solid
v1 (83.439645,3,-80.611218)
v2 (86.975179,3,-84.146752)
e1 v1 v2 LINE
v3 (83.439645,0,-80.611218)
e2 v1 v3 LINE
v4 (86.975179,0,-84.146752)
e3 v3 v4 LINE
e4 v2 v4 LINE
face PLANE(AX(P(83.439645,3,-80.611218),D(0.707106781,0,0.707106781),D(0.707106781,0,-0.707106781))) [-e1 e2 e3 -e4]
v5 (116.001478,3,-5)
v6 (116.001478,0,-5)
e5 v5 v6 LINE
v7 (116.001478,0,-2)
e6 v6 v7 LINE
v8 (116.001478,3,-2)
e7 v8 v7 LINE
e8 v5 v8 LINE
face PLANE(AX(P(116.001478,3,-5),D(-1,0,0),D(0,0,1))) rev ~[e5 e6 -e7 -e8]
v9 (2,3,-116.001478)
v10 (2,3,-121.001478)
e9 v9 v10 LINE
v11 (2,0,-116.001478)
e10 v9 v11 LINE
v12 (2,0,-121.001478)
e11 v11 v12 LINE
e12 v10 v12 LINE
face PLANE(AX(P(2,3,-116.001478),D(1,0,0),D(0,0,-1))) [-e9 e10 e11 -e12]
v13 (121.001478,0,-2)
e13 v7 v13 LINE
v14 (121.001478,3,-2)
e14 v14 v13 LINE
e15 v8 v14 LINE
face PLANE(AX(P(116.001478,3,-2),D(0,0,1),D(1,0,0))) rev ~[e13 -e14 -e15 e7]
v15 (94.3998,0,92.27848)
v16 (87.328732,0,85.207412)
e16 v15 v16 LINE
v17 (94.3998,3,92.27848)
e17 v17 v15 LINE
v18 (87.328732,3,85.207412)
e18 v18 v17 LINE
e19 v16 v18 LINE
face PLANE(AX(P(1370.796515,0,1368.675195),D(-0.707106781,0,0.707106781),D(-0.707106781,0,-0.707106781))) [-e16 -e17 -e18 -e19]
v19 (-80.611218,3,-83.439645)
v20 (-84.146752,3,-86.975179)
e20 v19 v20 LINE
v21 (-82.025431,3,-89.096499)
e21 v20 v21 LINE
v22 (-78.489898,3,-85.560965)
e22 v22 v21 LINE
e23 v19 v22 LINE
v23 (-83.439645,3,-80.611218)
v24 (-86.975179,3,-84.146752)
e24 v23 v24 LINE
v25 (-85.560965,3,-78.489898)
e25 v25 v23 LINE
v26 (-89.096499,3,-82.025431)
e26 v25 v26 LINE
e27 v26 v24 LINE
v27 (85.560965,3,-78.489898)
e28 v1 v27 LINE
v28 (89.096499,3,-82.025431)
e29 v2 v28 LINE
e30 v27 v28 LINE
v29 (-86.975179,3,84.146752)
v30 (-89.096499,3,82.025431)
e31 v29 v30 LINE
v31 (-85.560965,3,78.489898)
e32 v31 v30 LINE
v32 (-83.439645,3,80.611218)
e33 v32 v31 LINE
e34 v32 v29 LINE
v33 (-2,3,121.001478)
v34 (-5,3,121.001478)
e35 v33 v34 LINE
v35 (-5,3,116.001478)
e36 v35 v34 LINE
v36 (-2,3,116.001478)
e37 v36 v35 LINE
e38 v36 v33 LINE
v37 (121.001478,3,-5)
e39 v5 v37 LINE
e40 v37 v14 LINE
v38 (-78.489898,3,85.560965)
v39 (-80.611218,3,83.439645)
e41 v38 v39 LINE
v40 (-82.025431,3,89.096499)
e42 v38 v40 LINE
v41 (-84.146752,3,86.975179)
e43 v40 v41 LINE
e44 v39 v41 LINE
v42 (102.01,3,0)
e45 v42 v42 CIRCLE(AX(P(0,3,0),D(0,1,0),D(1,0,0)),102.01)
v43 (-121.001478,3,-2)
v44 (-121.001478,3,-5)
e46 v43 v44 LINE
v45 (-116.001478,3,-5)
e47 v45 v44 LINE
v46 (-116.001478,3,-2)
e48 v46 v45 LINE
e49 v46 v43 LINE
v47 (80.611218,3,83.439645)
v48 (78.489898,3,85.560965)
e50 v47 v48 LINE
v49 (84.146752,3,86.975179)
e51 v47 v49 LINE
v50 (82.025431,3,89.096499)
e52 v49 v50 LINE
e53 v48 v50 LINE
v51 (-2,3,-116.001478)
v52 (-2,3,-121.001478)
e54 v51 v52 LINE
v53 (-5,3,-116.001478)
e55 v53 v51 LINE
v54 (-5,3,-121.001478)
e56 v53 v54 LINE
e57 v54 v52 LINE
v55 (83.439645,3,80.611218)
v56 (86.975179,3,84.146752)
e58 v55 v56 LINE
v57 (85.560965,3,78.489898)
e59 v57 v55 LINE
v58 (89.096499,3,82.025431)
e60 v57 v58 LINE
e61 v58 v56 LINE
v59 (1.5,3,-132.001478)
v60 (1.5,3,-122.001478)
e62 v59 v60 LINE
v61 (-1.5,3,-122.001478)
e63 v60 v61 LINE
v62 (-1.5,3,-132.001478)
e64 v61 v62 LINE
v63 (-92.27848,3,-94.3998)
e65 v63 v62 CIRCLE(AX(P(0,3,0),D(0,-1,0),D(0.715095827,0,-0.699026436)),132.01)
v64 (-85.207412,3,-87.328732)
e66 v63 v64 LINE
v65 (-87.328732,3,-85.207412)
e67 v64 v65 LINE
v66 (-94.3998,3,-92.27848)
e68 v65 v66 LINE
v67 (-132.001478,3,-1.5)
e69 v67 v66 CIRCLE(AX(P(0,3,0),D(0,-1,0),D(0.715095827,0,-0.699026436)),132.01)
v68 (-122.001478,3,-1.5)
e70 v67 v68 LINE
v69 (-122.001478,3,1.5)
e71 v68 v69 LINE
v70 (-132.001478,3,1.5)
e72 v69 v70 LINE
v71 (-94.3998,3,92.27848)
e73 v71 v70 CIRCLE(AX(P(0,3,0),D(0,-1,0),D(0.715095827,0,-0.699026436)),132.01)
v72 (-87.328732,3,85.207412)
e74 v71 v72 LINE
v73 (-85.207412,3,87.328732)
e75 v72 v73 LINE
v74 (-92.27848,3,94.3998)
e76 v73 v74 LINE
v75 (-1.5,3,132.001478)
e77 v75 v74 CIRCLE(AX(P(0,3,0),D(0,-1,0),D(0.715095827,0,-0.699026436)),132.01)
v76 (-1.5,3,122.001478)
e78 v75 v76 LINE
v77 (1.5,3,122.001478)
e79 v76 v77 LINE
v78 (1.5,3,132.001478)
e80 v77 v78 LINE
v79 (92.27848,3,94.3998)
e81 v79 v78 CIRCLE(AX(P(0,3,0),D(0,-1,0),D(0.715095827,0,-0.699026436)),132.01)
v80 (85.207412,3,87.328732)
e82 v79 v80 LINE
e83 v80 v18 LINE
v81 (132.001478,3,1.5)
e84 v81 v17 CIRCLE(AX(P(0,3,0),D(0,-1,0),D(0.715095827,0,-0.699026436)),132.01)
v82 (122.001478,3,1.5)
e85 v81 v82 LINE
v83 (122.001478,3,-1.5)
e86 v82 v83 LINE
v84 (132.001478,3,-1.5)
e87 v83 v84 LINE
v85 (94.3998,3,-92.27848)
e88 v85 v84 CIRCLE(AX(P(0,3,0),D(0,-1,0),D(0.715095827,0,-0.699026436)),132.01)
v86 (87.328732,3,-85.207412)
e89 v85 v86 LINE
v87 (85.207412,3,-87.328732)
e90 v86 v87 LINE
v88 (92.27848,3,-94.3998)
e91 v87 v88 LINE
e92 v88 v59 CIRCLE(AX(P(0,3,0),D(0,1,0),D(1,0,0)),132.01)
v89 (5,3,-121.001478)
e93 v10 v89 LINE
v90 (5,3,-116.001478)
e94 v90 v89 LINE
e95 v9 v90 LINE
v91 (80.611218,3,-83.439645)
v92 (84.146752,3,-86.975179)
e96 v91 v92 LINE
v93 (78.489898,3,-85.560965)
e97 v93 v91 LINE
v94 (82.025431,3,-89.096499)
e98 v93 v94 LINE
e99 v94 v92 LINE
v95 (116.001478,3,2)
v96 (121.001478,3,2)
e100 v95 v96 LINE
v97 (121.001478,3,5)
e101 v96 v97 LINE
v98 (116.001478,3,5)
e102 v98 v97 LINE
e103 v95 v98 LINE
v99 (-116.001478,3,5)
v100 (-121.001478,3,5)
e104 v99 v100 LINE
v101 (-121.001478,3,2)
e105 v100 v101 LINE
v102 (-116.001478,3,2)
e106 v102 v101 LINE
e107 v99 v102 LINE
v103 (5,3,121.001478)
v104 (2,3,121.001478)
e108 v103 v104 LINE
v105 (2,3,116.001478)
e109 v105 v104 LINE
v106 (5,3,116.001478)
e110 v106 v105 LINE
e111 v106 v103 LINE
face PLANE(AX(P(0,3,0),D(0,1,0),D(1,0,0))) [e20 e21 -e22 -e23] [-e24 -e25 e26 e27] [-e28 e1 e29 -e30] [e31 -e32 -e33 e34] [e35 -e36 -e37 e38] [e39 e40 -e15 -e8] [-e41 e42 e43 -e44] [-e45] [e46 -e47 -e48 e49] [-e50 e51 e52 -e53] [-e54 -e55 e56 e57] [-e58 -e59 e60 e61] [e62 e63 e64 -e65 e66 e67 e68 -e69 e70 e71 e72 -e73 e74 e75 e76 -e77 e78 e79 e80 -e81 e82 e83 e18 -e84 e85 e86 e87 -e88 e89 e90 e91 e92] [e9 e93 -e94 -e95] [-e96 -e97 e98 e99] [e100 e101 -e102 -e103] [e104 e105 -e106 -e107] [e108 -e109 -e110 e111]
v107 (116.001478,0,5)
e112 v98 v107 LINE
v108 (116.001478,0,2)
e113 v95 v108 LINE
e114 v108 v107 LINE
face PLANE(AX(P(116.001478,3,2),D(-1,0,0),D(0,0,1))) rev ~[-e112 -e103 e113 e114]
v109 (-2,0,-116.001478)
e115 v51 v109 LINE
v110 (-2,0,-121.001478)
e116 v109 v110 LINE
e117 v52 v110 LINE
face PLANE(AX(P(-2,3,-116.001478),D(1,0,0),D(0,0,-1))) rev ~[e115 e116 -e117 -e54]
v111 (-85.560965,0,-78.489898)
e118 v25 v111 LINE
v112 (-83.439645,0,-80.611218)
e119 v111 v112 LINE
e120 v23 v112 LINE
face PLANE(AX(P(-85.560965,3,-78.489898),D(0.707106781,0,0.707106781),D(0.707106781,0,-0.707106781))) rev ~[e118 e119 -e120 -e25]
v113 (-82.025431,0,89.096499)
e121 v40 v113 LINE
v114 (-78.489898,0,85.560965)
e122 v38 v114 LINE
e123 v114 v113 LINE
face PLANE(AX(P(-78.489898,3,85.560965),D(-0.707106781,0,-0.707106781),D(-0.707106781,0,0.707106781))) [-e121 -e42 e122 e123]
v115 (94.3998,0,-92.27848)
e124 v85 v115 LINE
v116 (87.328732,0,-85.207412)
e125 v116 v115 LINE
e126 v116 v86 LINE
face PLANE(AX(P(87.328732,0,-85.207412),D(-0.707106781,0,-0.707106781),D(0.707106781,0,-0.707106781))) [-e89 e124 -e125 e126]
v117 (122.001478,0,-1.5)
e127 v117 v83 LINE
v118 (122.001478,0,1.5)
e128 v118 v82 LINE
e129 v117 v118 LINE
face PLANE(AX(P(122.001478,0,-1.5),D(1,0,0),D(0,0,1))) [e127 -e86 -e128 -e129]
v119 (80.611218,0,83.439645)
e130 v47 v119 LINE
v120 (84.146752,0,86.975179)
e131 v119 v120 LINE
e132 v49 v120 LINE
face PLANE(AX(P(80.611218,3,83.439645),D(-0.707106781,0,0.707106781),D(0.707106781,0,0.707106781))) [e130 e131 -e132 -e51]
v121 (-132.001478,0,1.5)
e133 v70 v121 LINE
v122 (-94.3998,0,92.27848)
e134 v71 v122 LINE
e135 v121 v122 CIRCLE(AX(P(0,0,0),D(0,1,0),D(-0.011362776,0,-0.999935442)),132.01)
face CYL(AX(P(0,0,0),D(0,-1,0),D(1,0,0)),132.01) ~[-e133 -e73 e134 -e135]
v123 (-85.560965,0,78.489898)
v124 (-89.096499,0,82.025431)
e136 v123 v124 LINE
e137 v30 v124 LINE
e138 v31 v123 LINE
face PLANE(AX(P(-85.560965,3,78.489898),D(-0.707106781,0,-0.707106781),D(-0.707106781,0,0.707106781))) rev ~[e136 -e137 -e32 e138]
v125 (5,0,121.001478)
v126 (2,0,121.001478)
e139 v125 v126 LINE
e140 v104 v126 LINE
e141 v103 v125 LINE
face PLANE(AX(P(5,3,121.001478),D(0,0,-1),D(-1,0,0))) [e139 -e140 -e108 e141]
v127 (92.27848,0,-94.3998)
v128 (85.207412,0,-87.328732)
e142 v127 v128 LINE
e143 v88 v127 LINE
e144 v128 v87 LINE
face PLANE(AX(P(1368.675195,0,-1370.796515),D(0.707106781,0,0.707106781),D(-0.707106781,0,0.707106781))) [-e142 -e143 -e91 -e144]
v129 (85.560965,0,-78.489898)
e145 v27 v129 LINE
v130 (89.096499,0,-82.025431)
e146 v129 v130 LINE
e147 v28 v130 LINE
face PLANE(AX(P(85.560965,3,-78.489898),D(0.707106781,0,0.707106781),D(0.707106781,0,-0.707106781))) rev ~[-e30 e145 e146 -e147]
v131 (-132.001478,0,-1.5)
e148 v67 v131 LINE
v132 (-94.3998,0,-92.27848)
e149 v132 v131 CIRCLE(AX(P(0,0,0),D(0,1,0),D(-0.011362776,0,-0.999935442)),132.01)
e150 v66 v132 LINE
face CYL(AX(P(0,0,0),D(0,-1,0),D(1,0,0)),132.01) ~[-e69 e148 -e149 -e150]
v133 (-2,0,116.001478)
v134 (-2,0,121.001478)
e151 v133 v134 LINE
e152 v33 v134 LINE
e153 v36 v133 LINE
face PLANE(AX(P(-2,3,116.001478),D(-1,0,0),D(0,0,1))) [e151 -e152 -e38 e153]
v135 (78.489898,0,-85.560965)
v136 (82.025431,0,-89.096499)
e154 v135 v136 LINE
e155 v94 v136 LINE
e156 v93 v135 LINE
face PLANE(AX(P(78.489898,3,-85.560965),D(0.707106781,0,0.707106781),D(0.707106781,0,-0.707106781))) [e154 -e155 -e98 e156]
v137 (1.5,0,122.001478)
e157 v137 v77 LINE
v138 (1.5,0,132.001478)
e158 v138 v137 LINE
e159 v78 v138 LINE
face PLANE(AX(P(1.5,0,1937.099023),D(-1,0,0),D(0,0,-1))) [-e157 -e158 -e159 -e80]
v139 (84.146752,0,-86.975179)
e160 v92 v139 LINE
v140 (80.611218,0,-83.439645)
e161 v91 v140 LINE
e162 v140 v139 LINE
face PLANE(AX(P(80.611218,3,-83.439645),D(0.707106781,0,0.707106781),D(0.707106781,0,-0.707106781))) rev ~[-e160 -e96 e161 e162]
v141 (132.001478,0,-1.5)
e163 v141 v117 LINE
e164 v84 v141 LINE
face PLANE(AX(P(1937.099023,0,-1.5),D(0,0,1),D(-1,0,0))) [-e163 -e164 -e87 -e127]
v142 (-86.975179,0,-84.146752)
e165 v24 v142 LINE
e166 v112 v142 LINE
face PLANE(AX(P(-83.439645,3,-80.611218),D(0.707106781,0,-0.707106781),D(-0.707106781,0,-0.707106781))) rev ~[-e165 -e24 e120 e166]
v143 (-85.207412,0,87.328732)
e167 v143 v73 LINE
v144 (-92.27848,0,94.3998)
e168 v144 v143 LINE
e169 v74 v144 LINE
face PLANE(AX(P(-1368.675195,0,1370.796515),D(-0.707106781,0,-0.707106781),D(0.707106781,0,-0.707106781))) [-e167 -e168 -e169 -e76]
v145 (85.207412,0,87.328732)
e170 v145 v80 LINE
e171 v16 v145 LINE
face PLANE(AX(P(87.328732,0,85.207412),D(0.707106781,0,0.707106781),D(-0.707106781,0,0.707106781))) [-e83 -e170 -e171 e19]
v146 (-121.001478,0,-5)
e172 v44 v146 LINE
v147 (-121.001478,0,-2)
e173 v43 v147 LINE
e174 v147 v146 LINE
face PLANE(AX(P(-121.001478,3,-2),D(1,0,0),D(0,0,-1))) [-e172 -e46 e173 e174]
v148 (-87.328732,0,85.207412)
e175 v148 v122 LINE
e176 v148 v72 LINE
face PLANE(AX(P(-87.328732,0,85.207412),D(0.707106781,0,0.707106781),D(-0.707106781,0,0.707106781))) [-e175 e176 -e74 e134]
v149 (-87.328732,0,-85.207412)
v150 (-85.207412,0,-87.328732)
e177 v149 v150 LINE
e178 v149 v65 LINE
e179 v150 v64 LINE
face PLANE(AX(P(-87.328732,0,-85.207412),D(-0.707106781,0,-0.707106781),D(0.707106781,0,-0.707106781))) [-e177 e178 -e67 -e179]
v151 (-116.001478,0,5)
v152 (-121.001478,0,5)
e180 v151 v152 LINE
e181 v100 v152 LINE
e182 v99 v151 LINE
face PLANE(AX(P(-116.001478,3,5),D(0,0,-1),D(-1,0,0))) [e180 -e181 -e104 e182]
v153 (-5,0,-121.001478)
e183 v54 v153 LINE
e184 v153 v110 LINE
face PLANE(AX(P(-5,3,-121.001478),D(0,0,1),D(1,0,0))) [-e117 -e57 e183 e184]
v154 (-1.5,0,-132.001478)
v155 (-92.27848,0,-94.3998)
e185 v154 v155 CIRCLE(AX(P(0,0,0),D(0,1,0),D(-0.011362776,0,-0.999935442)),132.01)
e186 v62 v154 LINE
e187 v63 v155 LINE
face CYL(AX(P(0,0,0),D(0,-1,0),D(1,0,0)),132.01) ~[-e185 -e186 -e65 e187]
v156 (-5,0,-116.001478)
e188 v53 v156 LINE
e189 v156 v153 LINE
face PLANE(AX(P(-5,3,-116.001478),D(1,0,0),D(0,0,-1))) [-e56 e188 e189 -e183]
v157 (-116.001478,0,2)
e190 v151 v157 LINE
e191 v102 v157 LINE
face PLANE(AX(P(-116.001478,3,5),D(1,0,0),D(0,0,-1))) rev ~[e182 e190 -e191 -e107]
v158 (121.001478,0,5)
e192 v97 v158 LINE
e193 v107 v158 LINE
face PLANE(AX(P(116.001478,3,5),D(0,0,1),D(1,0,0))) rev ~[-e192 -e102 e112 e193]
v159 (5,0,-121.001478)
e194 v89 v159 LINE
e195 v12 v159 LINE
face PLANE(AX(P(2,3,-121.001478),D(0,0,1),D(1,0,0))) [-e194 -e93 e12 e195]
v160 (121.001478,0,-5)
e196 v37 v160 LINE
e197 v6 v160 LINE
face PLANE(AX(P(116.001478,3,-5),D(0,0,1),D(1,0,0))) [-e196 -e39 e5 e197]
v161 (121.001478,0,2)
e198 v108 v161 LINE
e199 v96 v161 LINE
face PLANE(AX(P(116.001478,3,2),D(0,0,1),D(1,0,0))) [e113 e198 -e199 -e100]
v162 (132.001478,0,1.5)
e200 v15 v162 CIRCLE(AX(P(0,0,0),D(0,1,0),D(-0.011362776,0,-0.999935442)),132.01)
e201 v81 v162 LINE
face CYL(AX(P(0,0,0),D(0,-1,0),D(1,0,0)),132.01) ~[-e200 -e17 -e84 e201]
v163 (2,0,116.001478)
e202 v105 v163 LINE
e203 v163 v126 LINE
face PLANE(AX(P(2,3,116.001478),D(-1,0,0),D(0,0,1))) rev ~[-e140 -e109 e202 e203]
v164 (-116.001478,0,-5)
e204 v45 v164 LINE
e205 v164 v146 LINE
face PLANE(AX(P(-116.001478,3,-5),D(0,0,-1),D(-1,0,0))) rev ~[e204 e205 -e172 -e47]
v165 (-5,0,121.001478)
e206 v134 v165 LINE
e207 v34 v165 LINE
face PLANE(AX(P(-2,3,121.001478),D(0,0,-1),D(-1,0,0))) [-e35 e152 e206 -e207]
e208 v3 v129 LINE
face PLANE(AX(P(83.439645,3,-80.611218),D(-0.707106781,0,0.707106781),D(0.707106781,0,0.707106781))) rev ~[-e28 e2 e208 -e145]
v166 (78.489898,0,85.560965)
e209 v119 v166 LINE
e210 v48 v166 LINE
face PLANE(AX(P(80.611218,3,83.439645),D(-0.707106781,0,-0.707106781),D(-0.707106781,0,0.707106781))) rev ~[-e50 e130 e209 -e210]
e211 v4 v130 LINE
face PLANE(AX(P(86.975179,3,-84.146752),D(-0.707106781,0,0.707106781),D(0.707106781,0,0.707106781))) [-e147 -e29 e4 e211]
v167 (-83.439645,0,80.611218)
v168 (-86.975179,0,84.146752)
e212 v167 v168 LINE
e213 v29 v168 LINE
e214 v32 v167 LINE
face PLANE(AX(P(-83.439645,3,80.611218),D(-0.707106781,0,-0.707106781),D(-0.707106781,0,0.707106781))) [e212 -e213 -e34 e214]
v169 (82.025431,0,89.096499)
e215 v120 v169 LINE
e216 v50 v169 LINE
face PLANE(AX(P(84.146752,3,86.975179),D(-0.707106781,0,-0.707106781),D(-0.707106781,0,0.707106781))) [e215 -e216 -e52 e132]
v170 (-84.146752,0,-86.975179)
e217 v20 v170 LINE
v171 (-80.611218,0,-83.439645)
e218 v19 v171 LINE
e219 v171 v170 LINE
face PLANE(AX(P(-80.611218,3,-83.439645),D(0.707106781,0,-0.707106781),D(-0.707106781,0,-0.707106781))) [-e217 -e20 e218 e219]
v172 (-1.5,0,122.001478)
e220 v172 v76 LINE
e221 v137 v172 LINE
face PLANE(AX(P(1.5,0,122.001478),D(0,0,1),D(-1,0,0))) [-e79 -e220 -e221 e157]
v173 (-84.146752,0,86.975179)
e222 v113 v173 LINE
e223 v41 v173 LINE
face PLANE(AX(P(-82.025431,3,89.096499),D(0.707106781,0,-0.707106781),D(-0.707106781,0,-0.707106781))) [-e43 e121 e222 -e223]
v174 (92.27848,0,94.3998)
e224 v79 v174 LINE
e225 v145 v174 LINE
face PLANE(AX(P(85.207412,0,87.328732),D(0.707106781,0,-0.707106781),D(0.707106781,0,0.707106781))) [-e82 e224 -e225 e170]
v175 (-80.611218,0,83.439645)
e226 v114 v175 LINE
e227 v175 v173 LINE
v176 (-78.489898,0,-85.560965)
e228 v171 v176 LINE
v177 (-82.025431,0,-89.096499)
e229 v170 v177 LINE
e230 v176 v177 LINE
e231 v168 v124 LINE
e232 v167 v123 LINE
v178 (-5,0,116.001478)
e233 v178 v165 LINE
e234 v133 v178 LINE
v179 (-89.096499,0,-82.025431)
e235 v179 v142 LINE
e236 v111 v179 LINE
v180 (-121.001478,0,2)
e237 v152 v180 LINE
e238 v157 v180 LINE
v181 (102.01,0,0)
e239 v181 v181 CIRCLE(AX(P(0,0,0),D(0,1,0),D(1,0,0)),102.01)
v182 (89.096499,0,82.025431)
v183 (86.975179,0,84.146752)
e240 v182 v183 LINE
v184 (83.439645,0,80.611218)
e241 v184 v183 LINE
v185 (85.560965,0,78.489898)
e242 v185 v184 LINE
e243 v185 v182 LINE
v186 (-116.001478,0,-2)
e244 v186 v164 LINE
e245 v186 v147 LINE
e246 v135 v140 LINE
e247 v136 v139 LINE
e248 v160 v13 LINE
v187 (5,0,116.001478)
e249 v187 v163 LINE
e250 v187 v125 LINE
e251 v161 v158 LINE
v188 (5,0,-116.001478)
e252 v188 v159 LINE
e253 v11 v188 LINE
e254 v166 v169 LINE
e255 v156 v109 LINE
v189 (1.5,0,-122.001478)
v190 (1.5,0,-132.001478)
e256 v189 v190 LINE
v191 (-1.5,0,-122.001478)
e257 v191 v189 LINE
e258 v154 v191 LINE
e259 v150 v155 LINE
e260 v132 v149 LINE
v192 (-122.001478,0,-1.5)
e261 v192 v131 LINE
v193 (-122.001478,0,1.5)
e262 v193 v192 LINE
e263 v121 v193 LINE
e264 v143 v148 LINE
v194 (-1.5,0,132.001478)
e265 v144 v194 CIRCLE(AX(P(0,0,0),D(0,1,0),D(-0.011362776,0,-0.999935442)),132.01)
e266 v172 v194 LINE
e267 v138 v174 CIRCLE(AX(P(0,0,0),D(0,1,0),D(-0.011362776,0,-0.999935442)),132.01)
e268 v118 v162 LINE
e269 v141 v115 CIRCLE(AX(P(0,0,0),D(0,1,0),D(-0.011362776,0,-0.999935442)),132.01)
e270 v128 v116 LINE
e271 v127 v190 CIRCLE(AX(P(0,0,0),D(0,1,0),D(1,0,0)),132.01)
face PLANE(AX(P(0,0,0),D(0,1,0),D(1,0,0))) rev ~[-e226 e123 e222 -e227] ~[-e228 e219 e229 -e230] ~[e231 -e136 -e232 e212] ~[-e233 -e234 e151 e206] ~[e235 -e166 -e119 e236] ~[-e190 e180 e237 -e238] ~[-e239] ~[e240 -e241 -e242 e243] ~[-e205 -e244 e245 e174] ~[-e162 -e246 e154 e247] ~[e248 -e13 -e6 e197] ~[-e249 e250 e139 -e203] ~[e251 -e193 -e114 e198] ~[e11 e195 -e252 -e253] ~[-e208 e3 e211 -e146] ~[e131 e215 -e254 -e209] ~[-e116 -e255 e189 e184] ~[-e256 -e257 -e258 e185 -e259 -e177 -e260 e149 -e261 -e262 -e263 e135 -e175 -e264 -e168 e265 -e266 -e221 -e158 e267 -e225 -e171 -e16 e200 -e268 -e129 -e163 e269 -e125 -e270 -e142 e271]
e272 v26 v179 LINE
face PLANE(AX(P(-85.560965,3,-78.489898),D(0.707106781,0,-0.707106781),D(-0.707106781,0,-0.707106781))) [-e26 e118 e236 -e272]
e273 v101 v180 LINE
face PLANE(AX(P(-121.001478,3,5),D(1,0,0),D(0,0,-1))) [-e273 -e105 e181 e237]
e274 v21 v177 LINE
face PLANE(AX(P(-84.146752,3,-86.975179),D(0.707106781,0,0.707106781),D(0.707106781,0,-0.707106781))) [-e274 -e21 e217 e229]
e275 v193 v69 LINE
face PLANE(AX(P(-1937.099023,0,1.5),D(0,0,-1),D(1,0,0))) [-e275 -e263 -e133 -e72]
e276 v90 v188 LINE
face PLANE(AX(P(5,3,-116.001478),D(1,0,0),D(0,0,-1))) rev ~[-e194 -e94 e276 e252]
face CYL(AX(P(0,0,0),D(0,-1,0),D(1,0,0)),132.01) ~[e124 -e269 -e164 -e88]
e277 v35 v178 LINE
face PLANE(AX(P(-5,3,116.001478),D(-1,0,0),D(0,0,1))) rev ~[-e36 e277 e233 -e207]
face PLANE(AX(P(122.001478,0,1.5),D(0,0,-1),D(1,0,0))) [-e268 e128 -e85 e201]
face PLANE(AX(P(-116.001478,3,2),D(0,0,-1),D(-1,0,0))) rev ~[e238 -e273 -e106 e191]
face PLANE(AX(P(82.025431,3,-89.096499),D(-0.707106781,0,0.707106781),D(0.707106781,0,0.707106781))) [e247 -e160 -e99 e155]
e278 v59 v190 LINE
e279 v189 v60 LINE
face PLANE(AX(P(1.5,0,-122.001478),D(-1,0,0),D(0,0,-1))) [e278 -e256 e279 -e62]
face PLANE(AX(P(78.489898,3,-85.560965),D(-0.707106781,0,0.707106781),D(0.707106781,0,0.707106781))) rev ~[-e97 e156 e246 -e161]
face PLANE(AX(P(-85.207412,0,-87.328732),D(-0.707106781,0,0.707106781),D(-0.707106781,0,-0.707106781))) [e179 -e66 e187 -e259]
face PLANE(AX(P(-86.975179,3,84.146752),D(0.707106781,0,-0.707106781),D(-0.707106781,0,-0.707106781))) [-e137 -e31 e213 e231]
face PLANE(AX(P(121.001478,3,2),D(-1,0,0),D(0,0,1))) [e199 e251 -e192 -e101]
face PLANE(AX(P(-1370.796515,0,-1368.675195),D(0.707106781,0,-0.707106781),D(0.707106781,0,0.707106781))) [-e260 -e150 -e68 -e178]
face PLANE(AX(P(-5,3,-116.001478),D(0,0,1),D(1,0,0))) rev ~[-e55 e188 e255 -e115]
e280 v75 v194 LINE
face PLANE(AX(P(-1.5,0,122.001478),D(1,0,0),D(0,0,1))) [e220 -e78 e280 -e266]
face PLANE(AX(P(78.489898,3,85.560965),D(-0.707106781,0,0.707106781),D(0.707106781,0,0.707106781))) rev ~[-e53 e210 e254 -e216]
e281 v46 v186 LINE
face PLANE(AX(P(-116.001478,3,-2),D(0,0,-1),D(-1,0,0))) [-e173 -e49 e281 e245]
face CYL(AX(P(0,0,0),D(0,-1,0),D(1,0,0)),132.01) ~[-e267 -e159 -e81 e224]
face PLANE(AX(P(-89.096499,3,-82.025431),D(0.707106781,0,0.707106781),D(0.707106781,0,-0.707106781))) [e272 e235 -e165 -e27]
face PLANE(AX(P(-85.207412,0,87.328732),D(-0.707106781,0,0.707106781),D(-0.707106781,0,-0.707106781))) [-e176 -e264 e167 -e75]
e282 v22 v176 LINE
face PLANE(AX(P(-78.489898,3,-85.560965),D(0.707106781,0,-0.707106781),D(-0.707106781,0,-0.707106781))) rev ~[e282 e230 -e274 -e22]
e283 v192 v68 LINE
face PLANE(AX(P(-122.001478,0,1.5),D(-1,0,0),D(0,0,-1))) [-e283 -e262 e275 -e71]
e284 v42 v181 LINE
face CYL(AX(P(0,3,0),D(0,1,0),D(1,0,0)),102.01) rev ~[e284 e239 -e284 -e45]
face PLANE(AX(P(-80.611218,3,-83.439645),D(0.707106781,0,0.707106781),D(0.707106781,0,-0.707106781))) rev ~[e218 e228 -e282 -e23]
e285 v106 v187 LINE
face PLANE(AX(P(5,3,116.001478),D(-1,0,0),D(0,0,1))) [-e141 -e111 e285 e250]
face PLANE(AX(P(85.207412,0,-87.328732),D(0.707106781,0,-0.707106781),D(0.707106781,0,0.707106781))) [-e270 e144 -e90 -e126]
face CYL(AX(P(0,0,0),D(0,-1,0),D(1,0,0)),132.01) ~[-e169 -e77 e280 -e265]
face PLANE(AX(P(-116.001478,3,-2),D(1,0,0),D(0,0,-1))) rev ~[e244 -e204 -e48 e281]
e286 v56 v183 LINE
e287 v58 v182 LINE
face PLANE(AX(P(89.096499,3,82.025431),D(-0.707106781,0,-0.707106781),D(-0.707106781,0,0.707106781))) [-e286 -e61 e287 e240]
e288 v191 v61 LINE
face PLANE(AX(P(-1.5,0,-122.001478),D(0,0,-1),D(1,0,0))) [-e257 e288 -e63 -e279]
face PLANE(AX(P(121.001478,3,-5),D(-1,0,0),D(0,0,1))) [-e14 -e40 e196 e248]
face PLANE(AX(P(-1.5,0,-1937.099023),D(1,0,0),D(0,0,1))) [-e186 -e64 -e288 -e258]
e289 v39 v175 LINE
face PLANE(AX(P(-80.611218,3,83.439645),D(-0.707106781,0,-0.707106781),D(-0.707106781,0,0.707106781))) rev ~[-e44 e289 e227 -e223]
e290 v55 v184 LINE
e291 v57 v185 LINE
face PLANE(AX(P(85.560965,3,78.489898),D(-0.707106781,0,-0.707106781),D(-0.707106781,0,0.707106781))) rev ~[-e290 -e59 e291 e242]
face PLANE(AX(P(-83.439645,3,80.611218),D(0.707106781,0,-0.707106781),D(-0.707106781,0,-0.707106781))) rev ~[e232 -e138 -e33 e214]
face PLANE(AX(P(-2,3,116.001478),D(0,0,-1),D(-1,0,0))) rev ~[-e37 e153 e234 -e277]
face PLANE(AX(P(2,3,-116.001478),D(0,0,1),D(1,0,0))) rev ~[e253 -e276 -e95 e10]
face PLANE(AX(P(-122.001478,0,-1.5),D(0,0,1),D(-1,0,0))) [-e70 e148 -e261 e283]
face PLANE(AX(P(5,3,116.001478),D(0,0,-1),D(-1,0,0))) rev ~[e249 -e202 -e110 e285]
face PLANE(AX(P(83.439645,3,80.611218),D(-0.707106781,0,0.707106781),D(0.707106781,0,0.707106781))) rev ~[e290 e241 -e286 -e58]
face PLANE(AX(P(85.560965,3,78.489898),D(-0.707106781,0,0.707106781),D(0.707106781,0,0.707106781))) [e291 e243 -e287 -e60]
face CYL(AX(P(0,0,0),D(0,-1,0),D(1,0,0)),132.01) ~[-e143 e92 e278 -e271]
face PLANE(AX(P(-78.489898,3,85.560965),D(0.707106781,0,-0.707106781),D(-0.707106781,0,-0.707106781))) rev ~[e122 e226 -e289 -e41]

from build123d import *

# Parameters (mm, degrees)
SKETCH1_R           = 132.01
BOSS_EXTRUDE1_DEPTH = 3
CUT_EXTRUDE1_START  = -3
CUT_EXTRUDE1_DEPTH  = 4
CIRPATTERN1_COUNT   = 8
SKETCH7_W           = 3
SKETCH7_H           = 5
CUT_EXTRUDE4_DEPTH  = 3
CIRPATTERN2_COUNT   = 8
SKETCH8_R           = 102.01
CUT_EXTRUDE6_DEPTH  = 10


with BuildPart() as part:
    # Sketch1 → Boss-Extrude1 (new body)
    with BuildSketch(Plane(origin=(0, 0, 0), x_dir=(1, 0, 0), z_dir=(0, 1, 0))):
        Circle(SKETCH1_R)
    extrude(amount=BOSS_EXTRUDE1_DEPTH)

    # Sketch2 → Cut-Extrude1 (cut)
    with BuildSketch(Plane(origin=(0, 3, 0), x_dir=(1, 0, 0), z_dir=(0, 1, 0)).offset(CUT_EXTRUDE1_START)):
        Polygon((-1.5, 733.700659415), (-1.5, 132.001477643), (-1.5, 122.001477643), (1.5, 122.001477643), (1.5, 132.001477643), (1.5, 733.700659415), (1.5, 1937.099022959), (-1.5, 1937.099022959), align=None)
    cut_extrude1 = extrude(amount=CUT_EXTRUDE1_DEPTH, mode=Mode.SUBTRACT)

    # CirPattern1: Cut-Extrude1 ×8 about axis
    cirpattern1_axis = Axis((0, 0, 0), (0, -1, 0))
    for i in range(1, CIRPATTERN1_COUNT):
        add(cut_extrude1.rotate(cirpattern1_axis, i * 360 / CIRPATTERN1_COUNT), mode=Mode.SUBTRACT)

    # Sketch7 → Cut-Extrude4 (cut)
    with BuildSketch(Plane(origin=(0, 3, 0), x_dir=(1, 0, 0), z_dir=(0, 1, 0))):
        with Locations((-3.5, 118.501477643)):
            Rectangle(SKETCH7_W, SKETCH7_H)
        with Locations((3.5, 118.501477643)):
            Rectangle(SKETCH7_W, SKETCH7_H)
    cut_extrude4 = extrude(amount=-CUT_EXTRUDE4_DEPTH, mode=Mode.SUBTRACT)

    # CirPattern2: Cut-Extrude4 ×8 about axis
    cirpattern2_axis = Axis((0, 0, 0), (0, 1, 0))
    for i in range(1, CIRPATTERN2_COUNT):
        add(cut_extrude4.rotate(cirpattern2_axis, i * 360 / CIRPATTERN2_COUNT), mode=Mode.SUBTRACT)

    # Sketch8 → Cut-Extrude6 (cut)
    with BuildSketch(Plane(origin=(0, 3, 0), x_dir=(1, 0, 0), z_dir=(0, 1, 0))):
        Circle(SKETCH8_R)
    extrude(amount=-CUT_EXTRUDE6_DEPTH, mode=Mode.SUBTRACT)


solid = part.part
